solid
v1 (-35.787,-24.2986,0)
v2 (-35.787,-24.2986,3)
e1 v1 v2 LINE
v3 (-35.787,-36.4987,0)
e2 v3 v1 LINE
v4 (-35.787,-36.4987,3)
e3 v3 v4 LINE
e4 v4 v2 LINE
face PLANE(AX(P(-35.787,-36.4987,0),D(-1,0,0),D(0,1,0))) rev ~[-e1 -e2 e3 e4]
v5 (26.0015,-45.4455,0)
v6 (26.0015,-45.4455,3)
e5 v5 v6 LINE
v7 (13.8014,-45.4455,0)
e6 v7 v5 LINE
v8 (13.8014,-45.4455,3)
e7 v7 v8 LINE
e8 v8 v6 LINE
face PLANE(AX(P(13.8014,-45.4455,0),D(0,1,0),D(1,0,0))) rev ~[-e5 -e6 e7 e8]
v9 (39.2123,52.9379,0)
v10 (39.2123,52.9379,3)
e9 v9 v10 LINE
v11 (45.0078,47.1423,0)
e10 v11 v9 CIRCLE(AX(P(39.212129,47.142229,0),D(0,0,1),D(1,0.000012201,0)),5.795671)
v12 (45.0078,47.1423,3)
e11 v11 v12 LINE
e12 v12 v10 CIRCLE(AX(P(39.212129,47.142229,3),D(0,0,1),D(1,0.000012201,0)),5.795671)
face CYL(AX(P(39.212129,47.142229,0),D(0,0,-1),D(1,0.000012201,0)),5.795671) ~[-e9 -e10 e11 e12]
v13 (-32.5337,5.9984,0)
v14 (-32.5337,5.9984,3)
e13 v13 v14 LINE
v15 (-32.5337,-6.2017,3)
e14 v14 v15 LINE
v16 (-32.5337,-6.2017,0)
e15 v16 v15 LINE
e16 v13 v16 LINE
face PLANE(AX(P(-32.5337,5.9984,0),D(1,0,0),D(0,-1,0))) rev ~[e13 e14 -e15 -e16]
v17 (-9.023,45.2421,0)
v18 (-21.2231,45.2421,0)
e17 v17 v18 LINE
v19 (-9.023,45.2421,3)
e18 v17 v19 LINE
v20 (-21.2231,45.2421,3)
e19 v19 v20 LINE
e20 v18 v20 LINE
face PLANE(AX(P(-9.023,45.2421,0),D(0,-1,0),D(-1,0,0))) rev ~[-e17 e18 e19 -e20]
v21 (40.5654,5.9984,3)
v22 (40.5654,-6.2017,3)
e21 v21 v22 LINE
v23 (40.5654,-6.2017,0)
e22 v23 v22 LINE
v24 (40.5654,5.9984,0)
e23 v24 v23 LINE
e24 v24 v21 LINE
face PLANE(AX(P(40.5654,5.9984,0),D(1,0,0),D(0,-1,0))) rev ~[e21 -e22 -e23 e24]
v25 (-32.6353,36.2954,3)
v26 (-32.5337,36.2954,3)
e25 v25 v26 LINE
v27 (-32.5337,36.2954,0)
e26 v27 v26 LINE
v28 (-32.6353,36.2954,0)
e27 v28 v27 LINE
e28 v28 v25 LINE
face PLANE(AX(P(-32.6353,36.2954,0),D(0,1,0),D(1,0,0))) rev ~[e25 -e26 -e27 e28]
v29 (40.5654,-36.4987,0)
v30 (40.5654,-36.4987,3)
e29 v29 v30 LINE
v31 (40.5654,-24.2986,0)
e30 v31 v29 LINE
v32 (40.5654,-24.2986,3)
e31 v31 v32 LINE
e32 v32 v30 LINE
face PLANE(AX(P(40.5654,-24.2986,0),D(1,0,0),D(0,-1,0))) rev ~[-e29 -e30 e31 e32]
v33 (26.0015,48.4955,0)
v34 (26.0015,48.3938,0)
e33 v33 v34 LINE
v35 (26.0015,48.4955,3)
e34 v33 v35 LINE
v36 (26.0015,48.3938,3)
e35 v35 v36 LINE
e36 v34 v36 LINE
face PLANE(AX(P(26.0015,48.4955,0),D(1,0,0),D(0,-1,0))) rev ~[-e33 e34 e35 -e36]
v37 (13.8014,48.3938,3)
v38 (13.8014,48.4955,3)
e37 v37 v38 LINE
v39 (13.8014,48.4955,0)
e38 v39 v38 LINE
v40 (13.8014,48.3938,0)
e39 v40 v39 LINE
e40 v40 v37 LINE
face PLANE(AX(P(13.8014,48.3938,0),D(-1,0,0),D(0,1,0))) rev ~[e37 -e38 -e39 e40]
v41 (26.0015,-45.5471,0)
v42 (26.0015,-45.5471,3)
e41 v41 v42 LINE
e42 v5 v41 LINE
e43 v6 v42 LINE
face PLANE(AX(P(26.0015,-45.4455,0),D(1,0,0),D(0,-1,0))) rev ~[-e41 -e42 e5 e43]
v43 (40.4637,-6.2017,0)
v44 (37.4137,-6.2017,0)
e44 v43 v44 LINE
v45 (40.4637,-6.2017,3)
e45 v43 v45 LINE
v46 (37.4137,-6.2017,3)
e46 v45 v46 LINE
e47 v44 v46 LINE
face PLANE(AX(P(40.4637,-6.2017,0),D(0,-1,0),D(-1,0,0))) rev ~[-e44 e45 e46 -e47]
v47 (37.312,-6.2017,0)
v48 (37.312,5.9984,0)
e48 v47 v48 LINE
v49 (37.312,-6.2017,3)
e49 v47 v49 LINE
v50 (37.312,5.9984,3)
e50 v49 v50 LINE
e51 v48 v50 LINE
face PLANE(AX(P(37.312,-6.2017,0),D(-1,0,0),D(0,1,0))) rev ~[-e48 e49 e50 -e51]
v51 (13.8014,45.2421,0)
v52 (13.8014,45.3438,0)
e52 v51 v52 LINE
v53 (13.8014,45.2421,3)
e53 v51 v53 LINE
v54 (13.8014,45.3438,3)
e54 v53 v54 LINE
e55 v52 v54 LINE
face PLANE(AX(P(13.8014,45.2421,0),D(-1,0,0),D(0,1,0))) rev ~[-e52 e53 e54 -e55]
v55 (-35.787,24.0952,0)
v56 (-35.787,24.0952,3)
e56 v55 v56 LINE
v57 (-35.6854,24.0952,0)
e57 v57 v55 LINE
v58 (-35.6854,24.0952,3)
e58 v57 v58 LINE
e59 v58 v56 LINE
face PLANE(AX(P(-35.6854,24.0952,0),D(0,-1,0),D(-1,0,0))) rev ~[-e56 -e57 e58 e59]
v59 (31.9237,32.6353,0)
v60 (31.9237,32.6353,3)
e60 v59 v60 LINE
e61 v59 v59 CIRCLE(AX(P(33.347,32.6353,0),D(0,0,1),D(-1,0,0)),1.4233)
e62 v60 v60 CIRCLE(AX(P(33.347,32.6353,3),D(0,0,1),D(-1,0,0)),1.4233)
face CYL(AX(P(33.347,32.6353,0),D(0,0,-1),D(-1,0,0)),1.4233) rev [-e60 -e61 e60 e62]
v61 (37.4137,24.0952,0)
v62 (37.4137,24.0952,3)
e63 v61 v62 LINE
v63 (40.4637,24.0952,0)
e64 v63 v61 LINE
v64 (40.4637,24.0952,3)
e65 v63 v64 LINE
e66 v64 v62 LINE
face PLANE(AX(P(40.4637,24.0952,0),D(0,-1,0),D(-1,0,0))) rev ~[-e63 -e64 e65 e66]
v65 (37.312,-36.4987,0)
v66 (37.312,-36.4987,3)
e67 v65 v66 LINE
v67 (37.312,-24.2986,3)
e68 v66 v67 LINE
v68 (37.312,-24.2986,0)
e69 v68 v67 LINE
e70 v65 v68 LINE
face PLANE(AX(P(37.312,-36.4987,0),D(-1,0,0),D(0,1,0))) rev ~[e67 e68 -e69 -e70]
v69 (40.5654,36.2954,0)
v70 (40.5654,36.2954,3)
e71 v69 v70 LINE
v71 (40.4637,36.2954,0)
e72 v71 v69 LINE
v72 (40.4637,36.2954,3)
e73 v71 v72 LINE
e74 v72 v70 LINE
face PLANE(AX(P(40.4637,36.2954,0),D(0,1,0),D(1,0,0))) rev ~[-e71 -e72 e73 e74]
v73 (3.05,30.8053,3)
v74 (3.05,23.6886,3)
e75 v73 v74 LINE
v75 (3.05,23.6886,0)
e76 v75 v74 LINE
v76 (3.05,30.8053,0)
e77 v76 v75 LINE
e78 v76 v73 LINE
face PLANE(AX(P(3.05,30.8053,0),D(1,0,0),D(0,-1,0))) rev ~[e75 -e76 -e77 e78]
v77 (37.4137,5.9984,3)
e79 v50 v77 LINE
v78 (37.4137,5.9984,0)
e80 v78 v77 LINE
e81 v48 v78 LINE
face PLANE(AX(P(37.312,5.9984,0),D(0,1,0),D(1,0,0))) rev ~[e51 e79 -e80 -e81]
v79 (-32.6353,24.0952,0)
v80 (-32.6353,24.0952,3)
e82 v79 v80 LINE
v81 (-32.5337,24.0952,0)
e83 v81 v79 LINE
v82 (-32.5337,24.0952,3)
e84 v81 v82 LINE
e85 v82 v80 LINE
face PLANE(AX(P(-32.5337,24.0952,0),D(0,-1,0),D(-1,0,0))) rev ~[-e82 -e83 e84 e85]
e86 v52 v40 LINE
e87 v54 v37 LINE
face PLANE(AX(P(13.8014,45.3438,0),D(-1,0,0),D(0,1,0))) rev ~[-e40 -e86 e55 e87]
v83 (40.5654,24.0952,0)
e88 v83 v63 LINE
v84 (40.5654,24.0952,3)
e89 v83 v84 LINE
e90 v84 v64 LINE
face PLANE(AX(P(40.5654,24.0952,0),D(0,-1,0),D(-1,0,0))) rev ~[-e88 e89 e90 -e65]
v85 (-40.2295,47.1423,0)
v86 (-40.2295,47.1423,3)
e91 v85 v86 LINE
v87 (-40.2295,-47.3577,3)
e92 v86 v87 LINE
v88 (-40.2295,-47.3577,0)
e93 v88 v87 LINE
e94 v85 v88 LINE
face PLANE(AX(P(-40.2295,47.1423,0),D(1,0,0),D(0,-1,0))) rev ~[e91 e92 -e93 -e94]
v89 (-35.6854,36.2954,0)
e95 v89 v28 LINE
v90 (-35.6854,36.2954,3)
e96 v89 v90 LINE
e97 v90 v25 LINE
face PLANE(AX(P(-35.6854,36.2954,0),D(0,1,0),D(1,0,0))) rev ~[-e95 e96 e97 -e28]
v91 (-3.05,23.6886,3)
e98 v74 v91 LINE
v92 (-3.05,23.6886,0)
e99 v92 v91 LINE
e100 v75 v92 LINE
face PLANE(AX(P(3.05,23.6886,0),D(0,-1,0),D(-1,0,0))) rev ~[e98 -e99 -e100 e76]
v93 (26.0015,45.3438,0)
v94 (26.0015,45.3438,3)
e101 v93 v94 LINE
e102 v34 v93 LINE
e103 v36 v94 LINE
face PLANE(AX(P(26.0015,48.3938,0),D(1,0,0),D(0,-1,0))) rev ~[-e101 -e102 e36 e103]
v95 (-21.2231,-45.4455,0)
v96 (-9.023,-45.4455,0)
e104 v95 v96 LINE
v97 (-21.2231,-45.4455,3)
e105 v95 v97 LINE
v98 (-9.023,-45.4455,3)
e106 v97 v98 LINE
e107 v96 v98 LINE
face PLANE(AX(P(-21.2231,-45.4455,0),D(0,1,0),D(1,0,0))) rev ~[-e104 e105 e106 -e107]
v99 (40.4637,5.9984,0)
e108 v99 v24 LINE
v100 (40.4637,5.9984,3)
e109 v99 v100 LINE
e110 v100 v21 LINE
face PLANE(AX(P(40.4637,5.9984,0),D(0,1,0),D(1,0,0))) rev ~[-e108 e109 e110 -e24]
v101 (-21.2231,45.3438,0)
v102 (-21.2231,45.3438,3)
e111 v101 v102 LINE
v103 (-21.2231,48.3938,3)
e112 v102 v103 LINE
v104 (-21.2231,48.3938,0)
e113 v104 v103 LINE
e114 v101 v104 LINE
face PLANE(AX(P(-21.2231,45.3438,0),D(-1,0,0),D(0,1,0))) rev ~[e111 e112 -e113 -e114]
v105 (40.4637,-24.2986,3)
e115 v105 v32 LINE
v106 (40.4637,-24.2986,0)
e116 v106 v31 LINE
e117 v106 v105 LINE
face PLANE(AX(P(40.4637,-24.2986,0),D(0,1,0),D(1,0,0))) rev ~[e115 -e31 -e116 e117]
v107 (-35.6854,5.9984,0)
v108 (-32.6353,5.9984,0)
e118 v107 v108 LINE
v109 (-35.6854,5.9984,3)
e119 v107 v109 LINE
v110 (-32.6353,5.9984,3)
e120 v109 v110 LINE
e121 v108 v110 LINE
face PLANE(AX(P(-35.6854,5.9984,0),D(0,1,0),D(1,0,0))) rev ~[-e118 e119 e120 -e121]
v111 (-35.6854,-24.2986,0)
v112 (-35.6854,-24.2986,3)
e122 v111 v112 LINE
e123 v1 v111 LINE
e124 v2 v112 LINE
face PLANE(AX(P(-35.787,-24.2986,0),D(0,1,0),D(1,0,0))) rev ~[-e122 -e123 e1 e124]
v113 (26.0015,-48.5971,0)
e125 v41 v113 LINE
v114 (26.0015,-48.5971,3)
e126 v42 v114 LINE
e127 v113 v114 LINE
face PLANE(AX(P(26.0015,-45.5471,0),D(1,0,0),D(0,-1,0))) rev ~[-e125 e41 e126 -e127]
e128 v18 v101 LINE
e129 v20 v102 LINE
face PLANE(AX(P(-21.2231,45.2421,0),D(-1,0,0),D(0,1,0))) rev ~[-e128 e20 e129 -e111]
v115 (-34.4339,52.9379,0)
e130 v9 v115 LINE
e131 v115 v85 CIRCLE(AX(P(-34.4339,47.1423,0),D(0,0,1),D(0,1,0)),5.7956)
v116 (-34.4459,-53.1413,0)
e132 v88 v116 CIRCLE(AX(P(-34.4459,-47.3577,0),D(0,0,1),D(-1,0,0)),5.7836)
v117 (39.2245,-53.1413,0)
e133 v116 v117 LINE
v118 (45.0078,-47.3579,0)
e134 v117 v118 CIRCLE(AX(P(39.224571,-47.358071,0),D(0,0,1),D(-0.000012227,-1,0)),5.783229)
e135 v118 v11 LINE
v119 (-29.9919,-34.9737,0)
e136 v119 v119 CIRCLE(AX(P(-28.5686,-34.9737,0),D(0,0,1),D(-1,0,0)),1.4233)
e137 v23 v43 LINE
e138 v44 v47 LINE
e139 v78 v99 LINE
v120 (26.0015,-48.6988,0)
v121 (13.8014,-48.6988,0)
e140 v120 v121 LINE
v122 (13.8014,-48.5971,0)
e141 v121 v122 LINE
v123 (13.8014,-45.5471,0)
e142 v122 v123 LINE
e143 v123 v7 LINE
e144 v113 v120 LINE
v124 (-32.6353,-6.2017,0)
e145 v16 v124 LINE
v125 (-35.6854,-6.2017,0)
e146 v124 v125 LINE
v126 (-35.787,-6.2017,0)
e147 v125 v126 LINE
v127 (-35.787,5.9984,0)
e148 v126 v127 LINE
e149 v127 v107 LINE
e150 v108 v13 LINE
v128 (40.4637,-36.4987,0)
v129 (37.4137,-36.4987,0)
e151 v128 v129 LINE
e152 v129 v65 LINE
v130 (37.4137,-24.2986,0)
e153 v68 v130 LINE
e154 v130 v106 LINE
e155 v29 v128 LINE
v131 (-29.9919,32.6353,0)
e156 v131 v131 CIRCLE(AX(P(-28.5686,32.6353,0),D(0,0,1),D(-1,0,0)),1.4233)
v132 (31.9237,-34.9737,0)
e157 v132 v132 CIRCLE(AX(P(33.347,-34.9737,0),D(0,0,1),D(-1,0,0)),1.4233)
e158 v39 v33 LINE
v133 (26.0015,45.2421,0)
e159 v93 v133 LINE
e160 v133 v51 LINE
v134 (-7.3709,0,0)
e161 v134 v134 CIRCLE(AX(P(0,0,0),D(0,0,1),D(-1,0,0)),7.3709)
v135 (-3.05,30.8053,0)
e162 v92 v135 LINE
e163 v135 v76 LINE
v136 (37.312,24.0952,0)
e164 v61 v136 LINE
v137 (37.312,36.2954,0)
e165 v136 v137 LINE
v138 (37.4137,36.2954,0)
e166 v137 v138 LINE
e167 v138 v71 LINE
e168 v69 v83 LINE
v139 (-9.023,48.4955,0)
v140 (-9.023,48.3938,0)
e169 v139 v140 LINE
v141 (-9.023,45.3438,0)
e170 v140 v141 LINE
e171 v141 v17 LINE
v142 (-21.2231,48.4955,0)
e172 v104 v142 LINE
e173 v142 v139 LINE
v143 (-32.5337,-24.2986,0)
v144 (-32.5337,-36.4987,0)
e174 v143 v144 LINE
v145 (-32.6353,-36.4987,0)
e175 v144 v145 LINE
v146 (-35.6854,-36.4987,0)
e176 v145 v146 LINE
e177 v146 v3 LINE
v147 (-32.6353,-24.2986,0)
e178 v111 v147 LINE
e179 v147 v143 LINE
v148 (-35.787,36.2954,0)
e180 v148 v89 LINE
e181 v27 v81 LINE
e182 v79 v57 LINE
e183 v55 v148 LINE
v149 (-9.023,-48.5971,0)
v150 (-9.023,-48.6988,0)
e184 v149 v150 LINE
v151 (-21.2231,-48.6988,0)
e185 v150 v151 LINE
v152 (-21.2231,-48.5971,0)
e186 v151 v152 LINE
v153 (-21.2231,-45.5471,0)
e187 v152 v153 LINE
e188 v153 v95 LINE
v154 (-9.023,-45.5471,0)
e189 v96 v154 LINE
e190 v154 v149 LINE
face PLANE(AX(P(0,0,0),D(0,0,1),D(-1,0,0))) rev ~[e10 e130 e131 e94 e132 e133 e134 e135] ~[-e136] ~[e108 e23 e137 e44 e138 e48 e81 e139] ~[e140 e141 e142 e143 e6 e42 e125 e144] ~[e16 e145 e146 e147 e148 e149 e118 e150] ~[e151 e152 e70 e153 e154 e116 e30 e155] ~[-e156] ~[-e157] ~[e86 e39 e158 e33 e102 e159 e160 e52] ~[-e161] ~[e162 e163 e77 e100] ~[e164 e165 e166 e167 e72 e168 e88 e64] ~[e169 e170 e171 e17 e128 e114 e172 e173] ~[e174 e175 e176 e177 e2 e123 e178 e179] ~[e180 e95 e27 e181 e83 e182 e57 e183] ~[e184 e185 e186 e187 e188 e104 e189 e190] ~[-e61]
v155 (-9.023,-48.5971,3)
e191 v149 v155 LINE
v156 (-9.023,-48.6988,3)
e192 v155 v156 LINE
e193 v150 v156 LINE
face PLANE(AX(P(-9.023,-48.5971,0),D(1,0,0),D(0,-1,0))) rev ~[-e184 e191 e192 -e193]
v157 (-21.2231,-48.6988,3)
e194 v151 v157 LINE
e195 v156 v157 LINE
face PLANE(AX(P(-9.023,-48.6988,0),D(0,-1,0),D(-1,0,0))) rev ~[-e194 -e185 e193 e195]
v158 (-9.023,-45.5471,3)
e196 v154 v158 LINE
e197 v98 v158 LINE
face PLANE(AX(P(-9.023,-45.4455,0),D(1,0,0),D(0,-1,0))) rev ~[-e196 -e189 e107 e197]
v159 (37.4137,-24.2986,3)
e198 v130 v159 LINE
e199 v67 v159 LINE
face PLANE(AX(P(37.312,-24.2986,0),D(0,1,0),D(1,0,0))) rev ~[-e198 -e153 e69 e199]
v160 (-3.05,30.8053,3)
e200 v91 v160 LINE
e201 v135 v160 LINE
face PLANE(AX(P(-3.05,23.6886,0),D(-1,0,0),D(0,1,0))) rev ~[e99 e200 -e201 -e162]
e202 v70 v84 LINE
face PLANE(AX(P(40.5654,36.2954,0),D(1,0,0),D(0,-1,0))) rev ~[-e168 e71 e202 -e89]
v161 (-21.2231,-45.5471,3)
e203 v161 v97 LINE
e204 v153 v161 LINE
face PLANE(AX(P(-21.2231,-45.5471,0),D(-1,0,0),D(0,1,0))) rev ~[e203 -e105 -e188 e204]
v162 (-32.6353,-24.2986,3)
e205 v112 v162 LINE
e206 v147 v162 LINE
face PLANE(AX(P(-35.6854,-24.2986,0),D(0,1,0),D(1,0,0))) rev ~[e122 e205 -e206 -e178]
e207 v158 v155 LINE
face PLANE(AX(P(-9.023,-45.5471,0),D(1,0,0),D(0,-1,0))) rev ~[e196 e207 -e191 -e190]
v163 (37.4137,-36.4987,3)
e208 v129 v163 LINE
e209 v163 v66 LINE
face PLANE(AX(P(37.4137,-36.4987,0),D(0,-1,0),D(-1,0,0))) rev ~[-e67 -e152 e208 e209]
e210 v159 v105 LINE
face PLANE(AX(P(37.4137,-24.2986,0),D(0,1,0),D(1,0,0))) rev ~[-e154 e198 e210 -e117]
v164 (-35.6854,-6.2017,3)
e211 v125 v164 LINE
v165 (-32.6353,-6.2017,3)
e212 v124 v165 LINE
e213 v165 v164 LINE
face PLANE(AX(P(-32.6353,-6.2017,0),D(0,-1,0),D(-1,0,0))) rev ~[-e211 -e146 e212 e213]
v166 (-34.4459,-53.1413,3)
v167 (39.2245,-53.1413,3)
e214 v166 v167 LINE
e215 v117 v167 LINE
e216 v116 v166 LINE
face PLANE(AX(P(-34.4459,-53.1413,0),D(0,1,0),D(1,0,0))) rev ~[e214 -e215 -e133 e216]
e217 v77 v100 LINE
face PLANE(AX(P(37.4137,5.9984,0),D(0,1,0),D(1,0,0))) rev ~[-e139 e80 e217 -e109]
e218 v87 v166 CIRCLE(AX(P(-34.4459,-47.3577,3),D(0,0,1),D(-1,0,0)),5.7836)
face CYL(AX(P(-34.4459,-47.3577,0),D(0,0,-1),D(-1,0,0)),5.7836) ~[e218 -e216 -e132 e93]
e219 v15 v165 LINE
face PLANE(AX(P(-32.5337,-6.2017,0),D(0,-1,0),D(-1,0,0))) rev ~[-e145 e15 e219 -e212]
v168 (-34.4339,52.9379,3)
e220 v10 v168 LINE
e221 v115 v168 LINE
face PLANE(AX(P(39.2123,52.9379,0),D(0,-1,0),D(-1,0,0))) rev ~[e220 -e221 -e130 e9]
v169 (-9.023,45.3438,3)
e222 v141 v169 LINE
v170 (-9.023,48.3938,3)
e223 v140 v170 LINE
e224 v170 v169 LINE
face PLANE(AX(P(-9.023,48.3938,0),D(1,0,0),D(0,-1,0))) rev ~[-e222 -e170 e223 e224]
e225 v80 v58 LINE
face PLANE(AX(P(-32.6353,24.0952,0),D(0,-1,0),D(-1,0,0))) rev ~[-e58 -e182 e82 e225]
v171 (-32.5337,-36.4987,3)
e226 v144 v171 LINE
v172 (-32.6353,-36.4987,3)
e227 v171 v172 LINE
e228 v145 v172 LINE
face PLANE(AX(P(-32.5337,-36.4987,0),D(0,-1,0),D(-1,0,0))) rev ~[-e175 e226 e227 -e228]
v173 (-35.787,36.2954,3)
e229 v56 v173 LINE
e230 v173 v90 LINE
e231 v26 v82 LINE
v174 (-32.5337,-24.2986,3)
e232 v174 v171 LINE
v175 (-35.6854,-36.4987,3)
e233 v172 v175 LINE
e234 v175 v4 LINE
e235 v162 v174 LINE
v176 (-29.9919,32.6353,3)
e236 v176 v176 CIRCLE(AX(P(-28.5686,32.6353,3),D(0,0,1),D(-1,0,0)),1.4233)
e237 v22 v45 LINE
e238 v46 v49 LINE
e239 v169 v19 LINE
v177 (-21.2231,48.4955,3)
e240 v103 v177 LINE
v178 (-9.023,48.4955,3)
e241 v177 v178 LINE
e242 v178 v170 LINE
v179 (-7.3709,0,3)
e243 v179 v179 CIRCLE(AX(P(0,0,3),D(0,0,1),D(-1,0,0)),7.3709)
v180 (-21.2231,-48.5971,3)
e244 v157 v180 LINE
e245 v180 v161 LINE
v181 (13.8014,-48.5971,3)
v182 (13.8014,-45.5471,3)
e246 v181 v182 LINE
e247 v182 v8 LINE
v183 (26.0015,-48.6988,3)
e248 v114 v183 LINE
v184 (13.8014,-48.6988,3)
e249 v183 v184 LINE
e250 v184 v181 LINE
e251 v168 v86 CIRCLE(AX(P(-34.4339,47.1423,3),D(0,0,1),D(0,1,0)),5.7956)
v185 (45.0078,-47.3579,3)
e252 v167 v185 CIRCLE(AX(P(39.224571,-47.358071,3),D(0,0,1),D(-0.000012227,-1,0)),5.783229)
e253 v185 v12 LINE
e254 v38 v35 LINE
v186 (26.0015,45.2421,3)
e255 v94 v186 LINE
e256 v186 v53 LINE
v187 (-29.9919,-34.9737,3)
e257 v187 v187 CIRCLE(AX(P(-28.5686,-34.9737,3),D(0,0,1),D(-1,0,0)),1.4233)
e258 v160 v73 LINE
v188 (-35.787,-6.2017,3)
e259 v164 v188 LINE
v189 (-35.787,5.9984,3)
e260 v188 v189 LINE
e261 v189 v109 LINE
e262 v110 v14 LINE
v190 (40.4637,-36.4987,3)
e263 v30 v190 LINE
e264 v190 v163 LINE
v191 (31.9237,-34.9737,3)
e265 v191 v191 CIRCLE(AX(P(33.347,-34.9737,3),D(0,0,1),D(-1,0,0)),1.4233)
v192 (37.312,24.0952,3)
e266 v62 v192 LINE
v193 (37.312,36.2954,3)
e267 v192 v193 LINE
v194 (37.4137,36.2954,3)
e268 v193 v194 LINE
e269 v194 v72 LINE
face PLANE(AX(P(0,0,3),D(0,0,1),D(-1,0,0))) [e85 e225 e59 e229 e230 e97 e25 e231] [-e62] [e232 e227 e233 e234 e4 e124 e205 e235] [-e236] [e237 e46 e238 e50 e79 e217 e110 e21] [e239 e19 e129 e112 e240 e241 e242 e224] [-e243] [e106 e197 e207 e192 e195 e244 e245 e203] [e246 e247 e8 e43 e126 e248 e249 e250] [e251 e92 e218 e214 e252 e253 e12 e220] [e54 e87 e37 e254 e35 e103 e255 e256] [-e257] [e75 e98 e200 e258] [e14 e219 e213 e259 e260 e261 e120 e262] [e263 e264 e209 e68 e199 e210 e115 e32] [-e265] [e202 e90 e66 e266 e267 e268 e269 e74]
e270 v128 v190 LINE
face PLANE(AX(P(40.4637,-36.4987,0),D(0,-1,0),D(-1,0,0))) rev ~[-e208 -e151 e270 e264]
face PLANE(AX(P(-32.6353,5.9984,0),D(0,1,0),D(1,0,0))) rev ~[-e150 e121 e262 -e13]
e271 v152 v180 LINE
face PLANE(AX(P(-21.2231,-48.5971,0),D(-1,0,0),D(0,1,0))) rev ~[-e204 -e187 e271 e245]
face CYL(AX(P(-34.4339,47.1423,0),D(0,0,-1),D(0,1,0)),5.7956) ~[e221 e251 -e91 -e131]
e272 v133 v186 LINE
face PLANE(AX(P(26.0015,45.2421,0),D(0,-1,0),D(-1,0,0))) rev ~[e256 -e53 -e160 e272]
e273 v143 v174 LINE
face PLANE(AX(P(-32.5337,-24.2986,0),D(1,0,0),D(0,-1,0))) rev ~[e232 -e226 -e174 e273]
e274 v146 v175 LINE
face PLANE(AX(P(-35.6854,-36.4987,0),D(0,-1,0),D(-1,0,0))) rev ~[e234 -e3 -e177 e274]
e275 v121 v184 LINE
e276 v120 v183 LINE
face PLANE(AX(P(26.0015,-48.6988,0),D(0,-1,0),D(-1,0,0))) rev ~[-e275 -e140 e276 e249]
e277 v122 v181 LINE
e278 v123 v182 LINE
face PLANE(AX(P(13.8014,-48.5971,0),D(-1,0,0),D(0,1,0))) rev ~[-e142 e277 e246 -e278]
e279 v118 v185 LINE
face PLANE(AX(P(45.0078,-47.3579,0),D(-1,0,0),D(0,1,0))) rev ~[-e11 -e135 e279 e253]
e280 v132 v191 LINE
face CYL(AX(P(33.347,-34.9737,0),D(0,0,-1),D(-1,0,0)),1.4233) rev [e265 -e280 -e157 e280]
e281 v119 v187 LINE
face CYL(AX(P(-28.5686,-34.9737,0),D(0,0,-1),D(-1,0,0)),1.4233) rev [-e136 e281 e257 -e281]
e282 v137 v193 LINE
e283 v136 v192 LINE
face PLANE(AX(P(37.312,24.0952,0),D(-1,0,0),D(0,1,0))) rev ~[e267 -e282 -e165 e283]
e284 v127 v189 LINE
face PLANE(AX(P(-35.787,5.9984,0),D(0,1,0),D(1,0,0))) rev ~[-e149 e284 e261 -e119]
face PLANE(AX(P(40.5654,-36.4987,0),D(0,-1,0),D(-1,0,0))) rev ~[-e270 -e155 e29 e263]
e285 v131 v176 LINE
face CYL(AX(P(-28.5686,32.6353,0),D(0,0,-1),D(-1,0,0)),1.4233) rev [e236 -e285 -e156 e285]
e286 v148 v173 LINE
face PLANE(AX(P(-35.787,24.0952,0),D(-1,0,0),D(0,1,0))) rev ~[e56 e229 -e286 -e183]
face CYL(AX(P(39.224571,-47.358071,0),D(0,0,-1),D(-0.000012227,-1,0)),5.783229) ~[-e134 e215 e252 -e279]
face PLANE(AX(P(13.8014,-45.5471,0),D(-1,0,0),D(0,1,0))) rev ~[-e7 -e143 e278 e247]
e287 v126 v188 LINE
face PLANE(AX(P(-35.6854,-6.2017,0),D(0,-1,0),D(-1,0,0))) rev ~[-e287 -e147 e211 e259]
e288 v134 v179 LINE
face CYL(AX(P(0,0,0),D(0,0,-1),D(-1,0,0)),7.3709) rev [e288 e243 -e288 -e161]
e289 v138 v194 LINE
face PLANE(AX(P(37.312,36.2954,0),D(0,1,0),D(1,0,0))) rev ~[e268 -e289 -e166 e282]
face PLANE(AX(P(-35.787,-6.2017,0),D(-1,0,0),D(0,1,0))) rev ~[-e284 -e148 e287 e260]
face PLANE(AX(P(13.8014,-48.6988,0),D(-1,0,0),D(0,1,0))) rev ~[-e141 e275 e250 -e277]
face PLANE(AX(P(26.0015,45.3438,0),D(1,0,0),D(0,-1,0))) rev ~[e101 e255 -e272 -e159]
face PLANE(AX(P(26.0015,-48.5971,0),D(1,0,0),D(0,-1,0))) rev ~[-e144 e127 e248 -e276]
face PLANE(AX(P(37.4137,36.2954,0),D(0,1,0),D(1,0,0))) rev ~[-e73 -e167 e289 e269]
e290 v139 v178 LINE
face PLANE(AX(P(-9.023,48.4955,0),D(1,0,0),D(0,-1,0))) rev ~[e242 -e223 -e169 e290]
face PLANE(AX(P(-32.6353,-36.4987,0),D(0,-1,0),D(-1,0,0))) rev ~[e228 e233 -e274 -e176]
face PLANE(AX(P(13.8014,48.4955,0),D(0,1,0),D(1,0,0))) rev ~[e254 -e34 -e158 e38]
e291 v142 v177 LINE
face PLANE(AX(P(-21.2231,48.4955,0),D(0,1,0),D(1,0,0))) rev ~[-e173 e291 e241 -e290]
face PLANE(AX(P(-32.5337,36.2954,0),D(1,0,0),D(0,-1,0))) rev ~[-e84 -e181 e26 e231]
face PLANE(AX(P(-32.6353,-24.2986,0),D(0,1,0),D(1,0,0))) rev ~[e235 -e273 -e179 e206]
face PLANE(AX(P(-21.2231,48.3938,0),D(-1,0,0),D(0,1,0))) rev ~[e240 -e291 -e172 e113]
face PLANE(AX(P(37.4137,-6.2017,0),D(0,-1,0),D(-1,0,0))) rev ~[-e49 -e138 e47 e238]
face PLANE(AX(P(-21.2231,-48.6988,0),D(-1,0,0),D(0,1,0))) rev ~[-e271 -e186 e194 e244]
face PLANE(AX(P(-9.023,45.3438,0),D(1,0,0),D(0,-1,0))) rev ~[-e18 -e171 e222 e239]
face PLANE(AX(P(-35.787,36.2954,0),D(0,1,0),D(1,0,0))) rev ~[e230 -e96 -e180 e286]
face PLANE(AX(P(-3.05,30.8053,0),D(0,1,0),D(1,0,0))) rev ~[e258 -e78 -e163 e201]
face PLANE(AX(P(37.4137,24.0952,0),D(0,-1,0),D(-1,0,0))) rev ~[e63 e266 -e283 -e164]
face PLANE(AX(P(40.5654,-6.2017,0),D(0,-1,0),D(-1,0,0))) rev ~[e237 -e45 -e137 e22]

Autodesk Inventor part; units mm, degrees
ref_plane "YZ Plane" through (0, 0, 0) normal (1, 0, 0) x (0, 1, 0)
ref_plane "XZ Plane" through (0, 0, 0) normal (0, 1, 0) x (-1, 0, 0)
ref_plane "XY Plane" through (0, 0, 0) normal (0, 0, 1) x (1, 0, 0)
sketch "Boceto1" plane through (0, 0, 0) normal (0, 0, 1) x (-1, 0, 0)
  line L0 (-40.5654, -5.9984) -> (-40.5654, 6.2017)
  line L1 (-40.5654, 6.2017) -> (-40.4637, 6.2017)
  line L2 (-40.4637, 6.2017) -> (-37.4137, 6.2017)
  line L3 (-37.4137, 6.2017) -> (-37.312, 6.2017)
  line L4 (-37.312, 6.2017) -> (-37.312, -5.9984)
  line L5 (-37.312, -5.9984) -> (-37.4137, -5.9984)
  line L6 (-37.4137, -5.9984) -> (-40.4637, -5.9984)
  line L7 (-40.4637, -5.9984) -> (-40.5654, -5.9984)
  line L8 (35.787, -5.9984) -> (35.6854, -5.9984)
  line L9 (35.6854, -5.9984) -> (32.6353, -5.9984)
  line L10 (32.6353, -5.9984) -> (32.5337, -5.9984)
  line L11 (32.5337, -5.9984) -> (32.5337, 6.2017)
  line L12 (32.5337, 6.2017) -> (32.6353, 6.2017)
  line L13 (32.6353, 6.2017) -> (35.6854, 6.2017)
  line L14 (35.6854, 6.2017) -> (35.787, 6.2017)
  line L15 (35.787, 6.2017) -> (35.787, -5.9984)
  line L16 (35.6854, 36.4987) -> (35.787, 36.4987)
  line L17 (35.787, 36.4987) -> (35.787, 24.2986)
  line L18 (35.787, 24.2986) -> (35.6854, 24.2986)
  line L19 (35.6854, 24.2986) -> (32.6353, 24.2986)
  line L20 (32.6353, 24.2986) -> (32.5337, 24.2986)
  line L21 (32.5337, 24.2986) -> (32.5337, 36.4987)
  line L22 (32.5337, 36.4987) -> (32.6353, 36.4987)
  line L23 (32.6353, 36.4987) -> (35.6854, 36.4987)
  line L24 (-26.0015, -48.4955) -> (-26.0015, -48.3938)
  line L25 (-26.0015, -48.3938) -> (-26.0015, -45.3438)
  line L26 (-26.0015, -45.3438) -> (-26.0015, -45.2421)
  line L27 (-26.0015, -45.2421) -> (-13.8014, -45.2421)
  line L28 (-13.8014, -45.2421) -> (-13.8014, -45.3438)
  line L29 (-13.8014, -45.3438) -> (-13.8014, -48.3938)
  line L30 (-13.8014, -48.3938) -> (-13.8014, -48.4955)
  line L31 (-13.8014, -48.4955) -> (-26.0015, -48.4955)
  line L32 (9.023, 45.4455) -> (9.023, 45.5471)
  line L33 (9.023, 45.5471) -> (9.023, 48.5971)
  line L34 (9.023, 48.5971) -> (9.023, 48.6988)
  line L35 (9.023, 48.6988) -> (21.2231, 48.6988)
  line L36 (21.2231, 48.6988) -> (21.2231, 48.5971)
  line L37 (21.2231, 48.5971) -> (21.2231, 45.5471)
  line L38 (21.2231, 45.5471) -> (21.2231, 45.4455)
  line L39 (21.2231, 45.4455) -> (9.023, 45.4455)
  line L40 (-26.0015, 45.4455) -> (-26.0015, 45.5471)
  line L41 (-26.0015, 45.5471) -> (-26.0015, 48.5971)
  line L42 (-26.0015, 48.5971) -> (-26.0015, 48.6988)
  line L43 (-26.0015, 48.6988) -> (-13.8014, 48.6988)
  line L44 (-13.8014, 48.6988) -> (-13.8014, 48.5971)
  line L45 (-13.8014, 48.5971) -> (-13.8014, 45.5471)
  line L46 (-13.8014, 45.5471) -> (-13.8014, 45.4455)
  line L47 (-13.8014, 45.4455) -> (-26.0015, 45.4455)
  line L48 (32.6353, -24.0952) -> (35.6854, -24.0952)
  line L49 (35.6854, -24.0952) -> (35.787, -24.0952)
  line L50 (35.787, -24.0952) -> (35.787, -36.2954)
  line L51 (35.787, -36.2954) -> (35.6854, -36.2954)
  line L52 (35.6854, -36.2954) -> (32.6353, -36.2954)
  line L53 (32.6353, -36.2954) -> (32.5337, -36.2954)
  line L54 (32.5337, -36.2954) -> (32.5337, -24.0952)
  line L55 (32.5337, -24.0952) -> (32.6353, -24.0952)
  line L56 (9.023, -48.4955) -> (9.023, -48.3938)
  line L57 (9.023, -48.3938) -> (9.023, -45.3438)
  line L58 (9.023, -45.3438) -> (9.023, -45.2421)
  line L59 (9.023, -45.2421) -> (21.2231, -45.2421)
  line L60 (21.2231, -45.2421) -> (21.2231, -45.3438)
  line L61 (21.2231, -45.3438) -> (21.2231, -48.3938)
  line L62 (21.2231, -48.3938) -> (21.2231, -48.4955)
  line L63 (21.2231, -48.4955) -> (9.023, -48.4955)
  line L64 (-37.4137, -36.2954) -> (-40.4637, -36.2954)
  line L65 (-40.4637, -36.2954) -> (-40.5654, -36.2954)
  line L66 (-40.5654, -36.2954) -> (-40.5654, -24.0952)
  line L67 (-40.5654, -24.0952) -> (-40.4637, -24.0952)
  line L68 (-40.4637, -24.0952) -> (-37.4137, -24.0952)
  line L69 (-37.4137, -24.0952) -> (-37.312, -24.0952)
  line L70 (-37.312, -24.0952) -> (-37.312, -36.2954)
  line L71 (-37.312, -36.2954) -> (-37.4137, -36.2954)
  line L72 (-37.312, 36.4987) -> (-37.312, 24.2986)
  line L73 (-37.312, 24.2986) -> (-37.4137, 24.2986)
  line L74 (-37.4137, 24.2986) -> (-40.4637, 24.2986)
  line L75 (-40.4637, 24.2986) -> (-40.5654, 24.2986)
  line L76 (-40.5654, 24.2986) -> (-40.5654, 36.4987)
  line L77 (-40.5654, 36.4987) -> (-40.4637, 36.4987)
  line L78 (-40.4637, 36.4987) -> (-37.4137, 36.4987)
  line L79 (-37.4137, 36.4987) -> (-37.312, 36.4987)
  line L80 (-3.05, -23.6886) -> (3.05, -23.6886)
  line L81 (3.05, -23.6886) -> (3.05, -30.8053)
  line L82 (3.05, -30.8053) -> (-3.05, -30.8053)
  line L83 (-3.05, -30.8053) -> (-3.05, -23.6886)
  circle A0 centre (-33.347, 34.9737) radius 1.4233
  circle A1 centre (28.5686, 34.9737) radius 1.4233
  circle A2 centre (0, 0) radius 7.3709
  circle A3 centre (-33.347, -32.6353) radius 1.4233
  circle A4 centre (28.5686, -32.6353) radius 1.4233
  line L84 (21.2231, 48.6988) -> (9.023, 48.6988)
  line L85 (9.023, 48.6988) -> (9.023, 45.4455)
  line L86 (9.023, 45.4455) -> (21.2231, 45.4455)
  line L87 (21.2231, 45.4455) -> (21.2231, 48.6988)
  line L88 (35.787, 36.4987) -> (32.5337, 36.4987)
  line L89 (32.5337, 36.4987) -> (32.5337, 24.2986)
  line L90 (32.5337, 24.2986) -> (35.787, 24.2986)
  line L91 (35.787, 24.2986) -> (35.787, 36.4987)
  line L92 (35.787, 6.2017) -> (32.5337, 6.2017)
  line L93 (32.5337, 6.2017) -> (32.5337, -5.9984)
  line L94 (32.5337, -5.9984) -> (35.787, -5.9984)
  line L95 (35.787, -5.9984) -> (35.787, 6.2017)
  line L96 (35.787, -24.0952) -> (32.5337, -24.0952)
  line L97 (32.5337, -24.0952) -> (32.5337, -36.2954)
  line L98 (32.5337, -36.2954) -> (35.787, -36.2954)
  line L99 (35.787, -36.2954) -> (35.787, -24.0952)
  line L100 (21.2231, -45.2421) -> (9.023, -45.2421)
  line L101 (9.023, -45.2421) -> (9.023, -48.4955)
  line L102 (9.023, -48.4955) -> (21.2231, -48.4955)
  line L103 (21.2231, -48.4955) -> (21.2231, -45.2421)
  line L104 (-13.8014, -45.2421) -> (-26.0015, -45.2421)
  line L105 (-26.0015, -45.2421) -> (-26.0015, -48.4955)
  line L106 (-26.0015, -48.4955) -> (-13.8014, -48.4955)
  line L107 (-13.8014, -48.4955) -> (-13.8014, -45.2421)
  line L108 (-37.312, -36.2954) -> (-40.5654, -36.2954)
  line L109 (-40.5654, -36.2954) -> (-40.5654, -24.0952)
  line L110 (-40.5654, -24.0952) -> (-37.312, -24.0952)
  line L111 (-37.312, -24.0952) -> (-37.312, -36.2954)
  line L112 (-37.312, -5.9984) -> (-40.5654, -5.9984)
  line L113 (-40.5654, -5.9984) -> (-40.5654, 6.2017)
  line L114 (-40.5654, 6.2017) -> (-37.312, 6.2017)
  line L115 (-37.312, 6.2017) -> (-37.312, -5.9984)
  line L116 (-37.312, 24.2986) -> (-40.5654, 24.2986)
  line L117 (-40.5654, 24.2986) -> (-40.5654, 36.4987)
  line L118 (-40.5654, 36.4987) -> (-37.312, 36.4987)
  line L119 (-37.312, 36.4987) -> (-37.312, 24.2986)
  line L120 (-26.0015, 48.6988) -> (-13.8014, 48.6988)
  line L121 (-13.8014, 48.6988) -> (-13.8014, 45.4455)
  line L122 (-13.8014, 45.4455) -> (-26.0015, 45.4455)
  line L123 (-26.0015, 45.4455) -> (-26.0015, 48.6988)
  line L124 (3.05, -23.6886) -> (-3.05, -23.6886)
  line L125 (-3.05, -23.6886) -> (-3.05, -30.8053)
  line L126 (-3.05, -30.8053) -> (3.05, -30.8053)
  line L127 (3.05, -30.8053) -> (3.05, -23.6886)
  arc A5 (40.2295, 47.3577) -> (34.4459, 53.1413) centre (34.4459, 47.3577) ccw
  line L128 (34.4459, 53.1413) -> (-39.2245, 53.1413)
  arc A6 (-39.2245, 53.1413) -> (-45.0078, 47.3579) centre (-39.2245, 47.3579) ccw
  line L129 (-45.0078, 47.3579) -> (-45.0078, -47.1423)
  arc A7 (-45.0078, -47.1423) -> (-39.2123, -52.9379) centre (-39.2123, -47.1423) ccw
  line L130 (-39.2123, -52.9379) -> (34.4339, -52.9379)
  arc A8 (34.4339, -52.9379) -> (40.2295, -47.1423) centre (34.4339, -47.1423) ccw
  line L131 (40.2295, -47.1423) -> (40.2295, 47.3577)
extrude "Extrusión1" add sketch "Boceto1" along normal blind 3
sketch "Boceto2" plane through (0, 0, 3) normal (0, 0, 1) x (1, 0, 0)
  line L0 (-34.4459, -53.1413) -> (39.2245, -53.1413) projected
  line L1 (39.2123, 52.9379) -> (-34.4339, 52.9379) projected
  line L2 (-40.2295, 47.1423) -> (-40.2295, -47.3577) projected
  line L3 (45.0078, -47.3579) -> (45.0078, 47.1423) projected
  point P0 (0, 0)
  dimension "d5" = 106.0792
  dimension "d6" = 85.2373
properties part number "tapa2"
